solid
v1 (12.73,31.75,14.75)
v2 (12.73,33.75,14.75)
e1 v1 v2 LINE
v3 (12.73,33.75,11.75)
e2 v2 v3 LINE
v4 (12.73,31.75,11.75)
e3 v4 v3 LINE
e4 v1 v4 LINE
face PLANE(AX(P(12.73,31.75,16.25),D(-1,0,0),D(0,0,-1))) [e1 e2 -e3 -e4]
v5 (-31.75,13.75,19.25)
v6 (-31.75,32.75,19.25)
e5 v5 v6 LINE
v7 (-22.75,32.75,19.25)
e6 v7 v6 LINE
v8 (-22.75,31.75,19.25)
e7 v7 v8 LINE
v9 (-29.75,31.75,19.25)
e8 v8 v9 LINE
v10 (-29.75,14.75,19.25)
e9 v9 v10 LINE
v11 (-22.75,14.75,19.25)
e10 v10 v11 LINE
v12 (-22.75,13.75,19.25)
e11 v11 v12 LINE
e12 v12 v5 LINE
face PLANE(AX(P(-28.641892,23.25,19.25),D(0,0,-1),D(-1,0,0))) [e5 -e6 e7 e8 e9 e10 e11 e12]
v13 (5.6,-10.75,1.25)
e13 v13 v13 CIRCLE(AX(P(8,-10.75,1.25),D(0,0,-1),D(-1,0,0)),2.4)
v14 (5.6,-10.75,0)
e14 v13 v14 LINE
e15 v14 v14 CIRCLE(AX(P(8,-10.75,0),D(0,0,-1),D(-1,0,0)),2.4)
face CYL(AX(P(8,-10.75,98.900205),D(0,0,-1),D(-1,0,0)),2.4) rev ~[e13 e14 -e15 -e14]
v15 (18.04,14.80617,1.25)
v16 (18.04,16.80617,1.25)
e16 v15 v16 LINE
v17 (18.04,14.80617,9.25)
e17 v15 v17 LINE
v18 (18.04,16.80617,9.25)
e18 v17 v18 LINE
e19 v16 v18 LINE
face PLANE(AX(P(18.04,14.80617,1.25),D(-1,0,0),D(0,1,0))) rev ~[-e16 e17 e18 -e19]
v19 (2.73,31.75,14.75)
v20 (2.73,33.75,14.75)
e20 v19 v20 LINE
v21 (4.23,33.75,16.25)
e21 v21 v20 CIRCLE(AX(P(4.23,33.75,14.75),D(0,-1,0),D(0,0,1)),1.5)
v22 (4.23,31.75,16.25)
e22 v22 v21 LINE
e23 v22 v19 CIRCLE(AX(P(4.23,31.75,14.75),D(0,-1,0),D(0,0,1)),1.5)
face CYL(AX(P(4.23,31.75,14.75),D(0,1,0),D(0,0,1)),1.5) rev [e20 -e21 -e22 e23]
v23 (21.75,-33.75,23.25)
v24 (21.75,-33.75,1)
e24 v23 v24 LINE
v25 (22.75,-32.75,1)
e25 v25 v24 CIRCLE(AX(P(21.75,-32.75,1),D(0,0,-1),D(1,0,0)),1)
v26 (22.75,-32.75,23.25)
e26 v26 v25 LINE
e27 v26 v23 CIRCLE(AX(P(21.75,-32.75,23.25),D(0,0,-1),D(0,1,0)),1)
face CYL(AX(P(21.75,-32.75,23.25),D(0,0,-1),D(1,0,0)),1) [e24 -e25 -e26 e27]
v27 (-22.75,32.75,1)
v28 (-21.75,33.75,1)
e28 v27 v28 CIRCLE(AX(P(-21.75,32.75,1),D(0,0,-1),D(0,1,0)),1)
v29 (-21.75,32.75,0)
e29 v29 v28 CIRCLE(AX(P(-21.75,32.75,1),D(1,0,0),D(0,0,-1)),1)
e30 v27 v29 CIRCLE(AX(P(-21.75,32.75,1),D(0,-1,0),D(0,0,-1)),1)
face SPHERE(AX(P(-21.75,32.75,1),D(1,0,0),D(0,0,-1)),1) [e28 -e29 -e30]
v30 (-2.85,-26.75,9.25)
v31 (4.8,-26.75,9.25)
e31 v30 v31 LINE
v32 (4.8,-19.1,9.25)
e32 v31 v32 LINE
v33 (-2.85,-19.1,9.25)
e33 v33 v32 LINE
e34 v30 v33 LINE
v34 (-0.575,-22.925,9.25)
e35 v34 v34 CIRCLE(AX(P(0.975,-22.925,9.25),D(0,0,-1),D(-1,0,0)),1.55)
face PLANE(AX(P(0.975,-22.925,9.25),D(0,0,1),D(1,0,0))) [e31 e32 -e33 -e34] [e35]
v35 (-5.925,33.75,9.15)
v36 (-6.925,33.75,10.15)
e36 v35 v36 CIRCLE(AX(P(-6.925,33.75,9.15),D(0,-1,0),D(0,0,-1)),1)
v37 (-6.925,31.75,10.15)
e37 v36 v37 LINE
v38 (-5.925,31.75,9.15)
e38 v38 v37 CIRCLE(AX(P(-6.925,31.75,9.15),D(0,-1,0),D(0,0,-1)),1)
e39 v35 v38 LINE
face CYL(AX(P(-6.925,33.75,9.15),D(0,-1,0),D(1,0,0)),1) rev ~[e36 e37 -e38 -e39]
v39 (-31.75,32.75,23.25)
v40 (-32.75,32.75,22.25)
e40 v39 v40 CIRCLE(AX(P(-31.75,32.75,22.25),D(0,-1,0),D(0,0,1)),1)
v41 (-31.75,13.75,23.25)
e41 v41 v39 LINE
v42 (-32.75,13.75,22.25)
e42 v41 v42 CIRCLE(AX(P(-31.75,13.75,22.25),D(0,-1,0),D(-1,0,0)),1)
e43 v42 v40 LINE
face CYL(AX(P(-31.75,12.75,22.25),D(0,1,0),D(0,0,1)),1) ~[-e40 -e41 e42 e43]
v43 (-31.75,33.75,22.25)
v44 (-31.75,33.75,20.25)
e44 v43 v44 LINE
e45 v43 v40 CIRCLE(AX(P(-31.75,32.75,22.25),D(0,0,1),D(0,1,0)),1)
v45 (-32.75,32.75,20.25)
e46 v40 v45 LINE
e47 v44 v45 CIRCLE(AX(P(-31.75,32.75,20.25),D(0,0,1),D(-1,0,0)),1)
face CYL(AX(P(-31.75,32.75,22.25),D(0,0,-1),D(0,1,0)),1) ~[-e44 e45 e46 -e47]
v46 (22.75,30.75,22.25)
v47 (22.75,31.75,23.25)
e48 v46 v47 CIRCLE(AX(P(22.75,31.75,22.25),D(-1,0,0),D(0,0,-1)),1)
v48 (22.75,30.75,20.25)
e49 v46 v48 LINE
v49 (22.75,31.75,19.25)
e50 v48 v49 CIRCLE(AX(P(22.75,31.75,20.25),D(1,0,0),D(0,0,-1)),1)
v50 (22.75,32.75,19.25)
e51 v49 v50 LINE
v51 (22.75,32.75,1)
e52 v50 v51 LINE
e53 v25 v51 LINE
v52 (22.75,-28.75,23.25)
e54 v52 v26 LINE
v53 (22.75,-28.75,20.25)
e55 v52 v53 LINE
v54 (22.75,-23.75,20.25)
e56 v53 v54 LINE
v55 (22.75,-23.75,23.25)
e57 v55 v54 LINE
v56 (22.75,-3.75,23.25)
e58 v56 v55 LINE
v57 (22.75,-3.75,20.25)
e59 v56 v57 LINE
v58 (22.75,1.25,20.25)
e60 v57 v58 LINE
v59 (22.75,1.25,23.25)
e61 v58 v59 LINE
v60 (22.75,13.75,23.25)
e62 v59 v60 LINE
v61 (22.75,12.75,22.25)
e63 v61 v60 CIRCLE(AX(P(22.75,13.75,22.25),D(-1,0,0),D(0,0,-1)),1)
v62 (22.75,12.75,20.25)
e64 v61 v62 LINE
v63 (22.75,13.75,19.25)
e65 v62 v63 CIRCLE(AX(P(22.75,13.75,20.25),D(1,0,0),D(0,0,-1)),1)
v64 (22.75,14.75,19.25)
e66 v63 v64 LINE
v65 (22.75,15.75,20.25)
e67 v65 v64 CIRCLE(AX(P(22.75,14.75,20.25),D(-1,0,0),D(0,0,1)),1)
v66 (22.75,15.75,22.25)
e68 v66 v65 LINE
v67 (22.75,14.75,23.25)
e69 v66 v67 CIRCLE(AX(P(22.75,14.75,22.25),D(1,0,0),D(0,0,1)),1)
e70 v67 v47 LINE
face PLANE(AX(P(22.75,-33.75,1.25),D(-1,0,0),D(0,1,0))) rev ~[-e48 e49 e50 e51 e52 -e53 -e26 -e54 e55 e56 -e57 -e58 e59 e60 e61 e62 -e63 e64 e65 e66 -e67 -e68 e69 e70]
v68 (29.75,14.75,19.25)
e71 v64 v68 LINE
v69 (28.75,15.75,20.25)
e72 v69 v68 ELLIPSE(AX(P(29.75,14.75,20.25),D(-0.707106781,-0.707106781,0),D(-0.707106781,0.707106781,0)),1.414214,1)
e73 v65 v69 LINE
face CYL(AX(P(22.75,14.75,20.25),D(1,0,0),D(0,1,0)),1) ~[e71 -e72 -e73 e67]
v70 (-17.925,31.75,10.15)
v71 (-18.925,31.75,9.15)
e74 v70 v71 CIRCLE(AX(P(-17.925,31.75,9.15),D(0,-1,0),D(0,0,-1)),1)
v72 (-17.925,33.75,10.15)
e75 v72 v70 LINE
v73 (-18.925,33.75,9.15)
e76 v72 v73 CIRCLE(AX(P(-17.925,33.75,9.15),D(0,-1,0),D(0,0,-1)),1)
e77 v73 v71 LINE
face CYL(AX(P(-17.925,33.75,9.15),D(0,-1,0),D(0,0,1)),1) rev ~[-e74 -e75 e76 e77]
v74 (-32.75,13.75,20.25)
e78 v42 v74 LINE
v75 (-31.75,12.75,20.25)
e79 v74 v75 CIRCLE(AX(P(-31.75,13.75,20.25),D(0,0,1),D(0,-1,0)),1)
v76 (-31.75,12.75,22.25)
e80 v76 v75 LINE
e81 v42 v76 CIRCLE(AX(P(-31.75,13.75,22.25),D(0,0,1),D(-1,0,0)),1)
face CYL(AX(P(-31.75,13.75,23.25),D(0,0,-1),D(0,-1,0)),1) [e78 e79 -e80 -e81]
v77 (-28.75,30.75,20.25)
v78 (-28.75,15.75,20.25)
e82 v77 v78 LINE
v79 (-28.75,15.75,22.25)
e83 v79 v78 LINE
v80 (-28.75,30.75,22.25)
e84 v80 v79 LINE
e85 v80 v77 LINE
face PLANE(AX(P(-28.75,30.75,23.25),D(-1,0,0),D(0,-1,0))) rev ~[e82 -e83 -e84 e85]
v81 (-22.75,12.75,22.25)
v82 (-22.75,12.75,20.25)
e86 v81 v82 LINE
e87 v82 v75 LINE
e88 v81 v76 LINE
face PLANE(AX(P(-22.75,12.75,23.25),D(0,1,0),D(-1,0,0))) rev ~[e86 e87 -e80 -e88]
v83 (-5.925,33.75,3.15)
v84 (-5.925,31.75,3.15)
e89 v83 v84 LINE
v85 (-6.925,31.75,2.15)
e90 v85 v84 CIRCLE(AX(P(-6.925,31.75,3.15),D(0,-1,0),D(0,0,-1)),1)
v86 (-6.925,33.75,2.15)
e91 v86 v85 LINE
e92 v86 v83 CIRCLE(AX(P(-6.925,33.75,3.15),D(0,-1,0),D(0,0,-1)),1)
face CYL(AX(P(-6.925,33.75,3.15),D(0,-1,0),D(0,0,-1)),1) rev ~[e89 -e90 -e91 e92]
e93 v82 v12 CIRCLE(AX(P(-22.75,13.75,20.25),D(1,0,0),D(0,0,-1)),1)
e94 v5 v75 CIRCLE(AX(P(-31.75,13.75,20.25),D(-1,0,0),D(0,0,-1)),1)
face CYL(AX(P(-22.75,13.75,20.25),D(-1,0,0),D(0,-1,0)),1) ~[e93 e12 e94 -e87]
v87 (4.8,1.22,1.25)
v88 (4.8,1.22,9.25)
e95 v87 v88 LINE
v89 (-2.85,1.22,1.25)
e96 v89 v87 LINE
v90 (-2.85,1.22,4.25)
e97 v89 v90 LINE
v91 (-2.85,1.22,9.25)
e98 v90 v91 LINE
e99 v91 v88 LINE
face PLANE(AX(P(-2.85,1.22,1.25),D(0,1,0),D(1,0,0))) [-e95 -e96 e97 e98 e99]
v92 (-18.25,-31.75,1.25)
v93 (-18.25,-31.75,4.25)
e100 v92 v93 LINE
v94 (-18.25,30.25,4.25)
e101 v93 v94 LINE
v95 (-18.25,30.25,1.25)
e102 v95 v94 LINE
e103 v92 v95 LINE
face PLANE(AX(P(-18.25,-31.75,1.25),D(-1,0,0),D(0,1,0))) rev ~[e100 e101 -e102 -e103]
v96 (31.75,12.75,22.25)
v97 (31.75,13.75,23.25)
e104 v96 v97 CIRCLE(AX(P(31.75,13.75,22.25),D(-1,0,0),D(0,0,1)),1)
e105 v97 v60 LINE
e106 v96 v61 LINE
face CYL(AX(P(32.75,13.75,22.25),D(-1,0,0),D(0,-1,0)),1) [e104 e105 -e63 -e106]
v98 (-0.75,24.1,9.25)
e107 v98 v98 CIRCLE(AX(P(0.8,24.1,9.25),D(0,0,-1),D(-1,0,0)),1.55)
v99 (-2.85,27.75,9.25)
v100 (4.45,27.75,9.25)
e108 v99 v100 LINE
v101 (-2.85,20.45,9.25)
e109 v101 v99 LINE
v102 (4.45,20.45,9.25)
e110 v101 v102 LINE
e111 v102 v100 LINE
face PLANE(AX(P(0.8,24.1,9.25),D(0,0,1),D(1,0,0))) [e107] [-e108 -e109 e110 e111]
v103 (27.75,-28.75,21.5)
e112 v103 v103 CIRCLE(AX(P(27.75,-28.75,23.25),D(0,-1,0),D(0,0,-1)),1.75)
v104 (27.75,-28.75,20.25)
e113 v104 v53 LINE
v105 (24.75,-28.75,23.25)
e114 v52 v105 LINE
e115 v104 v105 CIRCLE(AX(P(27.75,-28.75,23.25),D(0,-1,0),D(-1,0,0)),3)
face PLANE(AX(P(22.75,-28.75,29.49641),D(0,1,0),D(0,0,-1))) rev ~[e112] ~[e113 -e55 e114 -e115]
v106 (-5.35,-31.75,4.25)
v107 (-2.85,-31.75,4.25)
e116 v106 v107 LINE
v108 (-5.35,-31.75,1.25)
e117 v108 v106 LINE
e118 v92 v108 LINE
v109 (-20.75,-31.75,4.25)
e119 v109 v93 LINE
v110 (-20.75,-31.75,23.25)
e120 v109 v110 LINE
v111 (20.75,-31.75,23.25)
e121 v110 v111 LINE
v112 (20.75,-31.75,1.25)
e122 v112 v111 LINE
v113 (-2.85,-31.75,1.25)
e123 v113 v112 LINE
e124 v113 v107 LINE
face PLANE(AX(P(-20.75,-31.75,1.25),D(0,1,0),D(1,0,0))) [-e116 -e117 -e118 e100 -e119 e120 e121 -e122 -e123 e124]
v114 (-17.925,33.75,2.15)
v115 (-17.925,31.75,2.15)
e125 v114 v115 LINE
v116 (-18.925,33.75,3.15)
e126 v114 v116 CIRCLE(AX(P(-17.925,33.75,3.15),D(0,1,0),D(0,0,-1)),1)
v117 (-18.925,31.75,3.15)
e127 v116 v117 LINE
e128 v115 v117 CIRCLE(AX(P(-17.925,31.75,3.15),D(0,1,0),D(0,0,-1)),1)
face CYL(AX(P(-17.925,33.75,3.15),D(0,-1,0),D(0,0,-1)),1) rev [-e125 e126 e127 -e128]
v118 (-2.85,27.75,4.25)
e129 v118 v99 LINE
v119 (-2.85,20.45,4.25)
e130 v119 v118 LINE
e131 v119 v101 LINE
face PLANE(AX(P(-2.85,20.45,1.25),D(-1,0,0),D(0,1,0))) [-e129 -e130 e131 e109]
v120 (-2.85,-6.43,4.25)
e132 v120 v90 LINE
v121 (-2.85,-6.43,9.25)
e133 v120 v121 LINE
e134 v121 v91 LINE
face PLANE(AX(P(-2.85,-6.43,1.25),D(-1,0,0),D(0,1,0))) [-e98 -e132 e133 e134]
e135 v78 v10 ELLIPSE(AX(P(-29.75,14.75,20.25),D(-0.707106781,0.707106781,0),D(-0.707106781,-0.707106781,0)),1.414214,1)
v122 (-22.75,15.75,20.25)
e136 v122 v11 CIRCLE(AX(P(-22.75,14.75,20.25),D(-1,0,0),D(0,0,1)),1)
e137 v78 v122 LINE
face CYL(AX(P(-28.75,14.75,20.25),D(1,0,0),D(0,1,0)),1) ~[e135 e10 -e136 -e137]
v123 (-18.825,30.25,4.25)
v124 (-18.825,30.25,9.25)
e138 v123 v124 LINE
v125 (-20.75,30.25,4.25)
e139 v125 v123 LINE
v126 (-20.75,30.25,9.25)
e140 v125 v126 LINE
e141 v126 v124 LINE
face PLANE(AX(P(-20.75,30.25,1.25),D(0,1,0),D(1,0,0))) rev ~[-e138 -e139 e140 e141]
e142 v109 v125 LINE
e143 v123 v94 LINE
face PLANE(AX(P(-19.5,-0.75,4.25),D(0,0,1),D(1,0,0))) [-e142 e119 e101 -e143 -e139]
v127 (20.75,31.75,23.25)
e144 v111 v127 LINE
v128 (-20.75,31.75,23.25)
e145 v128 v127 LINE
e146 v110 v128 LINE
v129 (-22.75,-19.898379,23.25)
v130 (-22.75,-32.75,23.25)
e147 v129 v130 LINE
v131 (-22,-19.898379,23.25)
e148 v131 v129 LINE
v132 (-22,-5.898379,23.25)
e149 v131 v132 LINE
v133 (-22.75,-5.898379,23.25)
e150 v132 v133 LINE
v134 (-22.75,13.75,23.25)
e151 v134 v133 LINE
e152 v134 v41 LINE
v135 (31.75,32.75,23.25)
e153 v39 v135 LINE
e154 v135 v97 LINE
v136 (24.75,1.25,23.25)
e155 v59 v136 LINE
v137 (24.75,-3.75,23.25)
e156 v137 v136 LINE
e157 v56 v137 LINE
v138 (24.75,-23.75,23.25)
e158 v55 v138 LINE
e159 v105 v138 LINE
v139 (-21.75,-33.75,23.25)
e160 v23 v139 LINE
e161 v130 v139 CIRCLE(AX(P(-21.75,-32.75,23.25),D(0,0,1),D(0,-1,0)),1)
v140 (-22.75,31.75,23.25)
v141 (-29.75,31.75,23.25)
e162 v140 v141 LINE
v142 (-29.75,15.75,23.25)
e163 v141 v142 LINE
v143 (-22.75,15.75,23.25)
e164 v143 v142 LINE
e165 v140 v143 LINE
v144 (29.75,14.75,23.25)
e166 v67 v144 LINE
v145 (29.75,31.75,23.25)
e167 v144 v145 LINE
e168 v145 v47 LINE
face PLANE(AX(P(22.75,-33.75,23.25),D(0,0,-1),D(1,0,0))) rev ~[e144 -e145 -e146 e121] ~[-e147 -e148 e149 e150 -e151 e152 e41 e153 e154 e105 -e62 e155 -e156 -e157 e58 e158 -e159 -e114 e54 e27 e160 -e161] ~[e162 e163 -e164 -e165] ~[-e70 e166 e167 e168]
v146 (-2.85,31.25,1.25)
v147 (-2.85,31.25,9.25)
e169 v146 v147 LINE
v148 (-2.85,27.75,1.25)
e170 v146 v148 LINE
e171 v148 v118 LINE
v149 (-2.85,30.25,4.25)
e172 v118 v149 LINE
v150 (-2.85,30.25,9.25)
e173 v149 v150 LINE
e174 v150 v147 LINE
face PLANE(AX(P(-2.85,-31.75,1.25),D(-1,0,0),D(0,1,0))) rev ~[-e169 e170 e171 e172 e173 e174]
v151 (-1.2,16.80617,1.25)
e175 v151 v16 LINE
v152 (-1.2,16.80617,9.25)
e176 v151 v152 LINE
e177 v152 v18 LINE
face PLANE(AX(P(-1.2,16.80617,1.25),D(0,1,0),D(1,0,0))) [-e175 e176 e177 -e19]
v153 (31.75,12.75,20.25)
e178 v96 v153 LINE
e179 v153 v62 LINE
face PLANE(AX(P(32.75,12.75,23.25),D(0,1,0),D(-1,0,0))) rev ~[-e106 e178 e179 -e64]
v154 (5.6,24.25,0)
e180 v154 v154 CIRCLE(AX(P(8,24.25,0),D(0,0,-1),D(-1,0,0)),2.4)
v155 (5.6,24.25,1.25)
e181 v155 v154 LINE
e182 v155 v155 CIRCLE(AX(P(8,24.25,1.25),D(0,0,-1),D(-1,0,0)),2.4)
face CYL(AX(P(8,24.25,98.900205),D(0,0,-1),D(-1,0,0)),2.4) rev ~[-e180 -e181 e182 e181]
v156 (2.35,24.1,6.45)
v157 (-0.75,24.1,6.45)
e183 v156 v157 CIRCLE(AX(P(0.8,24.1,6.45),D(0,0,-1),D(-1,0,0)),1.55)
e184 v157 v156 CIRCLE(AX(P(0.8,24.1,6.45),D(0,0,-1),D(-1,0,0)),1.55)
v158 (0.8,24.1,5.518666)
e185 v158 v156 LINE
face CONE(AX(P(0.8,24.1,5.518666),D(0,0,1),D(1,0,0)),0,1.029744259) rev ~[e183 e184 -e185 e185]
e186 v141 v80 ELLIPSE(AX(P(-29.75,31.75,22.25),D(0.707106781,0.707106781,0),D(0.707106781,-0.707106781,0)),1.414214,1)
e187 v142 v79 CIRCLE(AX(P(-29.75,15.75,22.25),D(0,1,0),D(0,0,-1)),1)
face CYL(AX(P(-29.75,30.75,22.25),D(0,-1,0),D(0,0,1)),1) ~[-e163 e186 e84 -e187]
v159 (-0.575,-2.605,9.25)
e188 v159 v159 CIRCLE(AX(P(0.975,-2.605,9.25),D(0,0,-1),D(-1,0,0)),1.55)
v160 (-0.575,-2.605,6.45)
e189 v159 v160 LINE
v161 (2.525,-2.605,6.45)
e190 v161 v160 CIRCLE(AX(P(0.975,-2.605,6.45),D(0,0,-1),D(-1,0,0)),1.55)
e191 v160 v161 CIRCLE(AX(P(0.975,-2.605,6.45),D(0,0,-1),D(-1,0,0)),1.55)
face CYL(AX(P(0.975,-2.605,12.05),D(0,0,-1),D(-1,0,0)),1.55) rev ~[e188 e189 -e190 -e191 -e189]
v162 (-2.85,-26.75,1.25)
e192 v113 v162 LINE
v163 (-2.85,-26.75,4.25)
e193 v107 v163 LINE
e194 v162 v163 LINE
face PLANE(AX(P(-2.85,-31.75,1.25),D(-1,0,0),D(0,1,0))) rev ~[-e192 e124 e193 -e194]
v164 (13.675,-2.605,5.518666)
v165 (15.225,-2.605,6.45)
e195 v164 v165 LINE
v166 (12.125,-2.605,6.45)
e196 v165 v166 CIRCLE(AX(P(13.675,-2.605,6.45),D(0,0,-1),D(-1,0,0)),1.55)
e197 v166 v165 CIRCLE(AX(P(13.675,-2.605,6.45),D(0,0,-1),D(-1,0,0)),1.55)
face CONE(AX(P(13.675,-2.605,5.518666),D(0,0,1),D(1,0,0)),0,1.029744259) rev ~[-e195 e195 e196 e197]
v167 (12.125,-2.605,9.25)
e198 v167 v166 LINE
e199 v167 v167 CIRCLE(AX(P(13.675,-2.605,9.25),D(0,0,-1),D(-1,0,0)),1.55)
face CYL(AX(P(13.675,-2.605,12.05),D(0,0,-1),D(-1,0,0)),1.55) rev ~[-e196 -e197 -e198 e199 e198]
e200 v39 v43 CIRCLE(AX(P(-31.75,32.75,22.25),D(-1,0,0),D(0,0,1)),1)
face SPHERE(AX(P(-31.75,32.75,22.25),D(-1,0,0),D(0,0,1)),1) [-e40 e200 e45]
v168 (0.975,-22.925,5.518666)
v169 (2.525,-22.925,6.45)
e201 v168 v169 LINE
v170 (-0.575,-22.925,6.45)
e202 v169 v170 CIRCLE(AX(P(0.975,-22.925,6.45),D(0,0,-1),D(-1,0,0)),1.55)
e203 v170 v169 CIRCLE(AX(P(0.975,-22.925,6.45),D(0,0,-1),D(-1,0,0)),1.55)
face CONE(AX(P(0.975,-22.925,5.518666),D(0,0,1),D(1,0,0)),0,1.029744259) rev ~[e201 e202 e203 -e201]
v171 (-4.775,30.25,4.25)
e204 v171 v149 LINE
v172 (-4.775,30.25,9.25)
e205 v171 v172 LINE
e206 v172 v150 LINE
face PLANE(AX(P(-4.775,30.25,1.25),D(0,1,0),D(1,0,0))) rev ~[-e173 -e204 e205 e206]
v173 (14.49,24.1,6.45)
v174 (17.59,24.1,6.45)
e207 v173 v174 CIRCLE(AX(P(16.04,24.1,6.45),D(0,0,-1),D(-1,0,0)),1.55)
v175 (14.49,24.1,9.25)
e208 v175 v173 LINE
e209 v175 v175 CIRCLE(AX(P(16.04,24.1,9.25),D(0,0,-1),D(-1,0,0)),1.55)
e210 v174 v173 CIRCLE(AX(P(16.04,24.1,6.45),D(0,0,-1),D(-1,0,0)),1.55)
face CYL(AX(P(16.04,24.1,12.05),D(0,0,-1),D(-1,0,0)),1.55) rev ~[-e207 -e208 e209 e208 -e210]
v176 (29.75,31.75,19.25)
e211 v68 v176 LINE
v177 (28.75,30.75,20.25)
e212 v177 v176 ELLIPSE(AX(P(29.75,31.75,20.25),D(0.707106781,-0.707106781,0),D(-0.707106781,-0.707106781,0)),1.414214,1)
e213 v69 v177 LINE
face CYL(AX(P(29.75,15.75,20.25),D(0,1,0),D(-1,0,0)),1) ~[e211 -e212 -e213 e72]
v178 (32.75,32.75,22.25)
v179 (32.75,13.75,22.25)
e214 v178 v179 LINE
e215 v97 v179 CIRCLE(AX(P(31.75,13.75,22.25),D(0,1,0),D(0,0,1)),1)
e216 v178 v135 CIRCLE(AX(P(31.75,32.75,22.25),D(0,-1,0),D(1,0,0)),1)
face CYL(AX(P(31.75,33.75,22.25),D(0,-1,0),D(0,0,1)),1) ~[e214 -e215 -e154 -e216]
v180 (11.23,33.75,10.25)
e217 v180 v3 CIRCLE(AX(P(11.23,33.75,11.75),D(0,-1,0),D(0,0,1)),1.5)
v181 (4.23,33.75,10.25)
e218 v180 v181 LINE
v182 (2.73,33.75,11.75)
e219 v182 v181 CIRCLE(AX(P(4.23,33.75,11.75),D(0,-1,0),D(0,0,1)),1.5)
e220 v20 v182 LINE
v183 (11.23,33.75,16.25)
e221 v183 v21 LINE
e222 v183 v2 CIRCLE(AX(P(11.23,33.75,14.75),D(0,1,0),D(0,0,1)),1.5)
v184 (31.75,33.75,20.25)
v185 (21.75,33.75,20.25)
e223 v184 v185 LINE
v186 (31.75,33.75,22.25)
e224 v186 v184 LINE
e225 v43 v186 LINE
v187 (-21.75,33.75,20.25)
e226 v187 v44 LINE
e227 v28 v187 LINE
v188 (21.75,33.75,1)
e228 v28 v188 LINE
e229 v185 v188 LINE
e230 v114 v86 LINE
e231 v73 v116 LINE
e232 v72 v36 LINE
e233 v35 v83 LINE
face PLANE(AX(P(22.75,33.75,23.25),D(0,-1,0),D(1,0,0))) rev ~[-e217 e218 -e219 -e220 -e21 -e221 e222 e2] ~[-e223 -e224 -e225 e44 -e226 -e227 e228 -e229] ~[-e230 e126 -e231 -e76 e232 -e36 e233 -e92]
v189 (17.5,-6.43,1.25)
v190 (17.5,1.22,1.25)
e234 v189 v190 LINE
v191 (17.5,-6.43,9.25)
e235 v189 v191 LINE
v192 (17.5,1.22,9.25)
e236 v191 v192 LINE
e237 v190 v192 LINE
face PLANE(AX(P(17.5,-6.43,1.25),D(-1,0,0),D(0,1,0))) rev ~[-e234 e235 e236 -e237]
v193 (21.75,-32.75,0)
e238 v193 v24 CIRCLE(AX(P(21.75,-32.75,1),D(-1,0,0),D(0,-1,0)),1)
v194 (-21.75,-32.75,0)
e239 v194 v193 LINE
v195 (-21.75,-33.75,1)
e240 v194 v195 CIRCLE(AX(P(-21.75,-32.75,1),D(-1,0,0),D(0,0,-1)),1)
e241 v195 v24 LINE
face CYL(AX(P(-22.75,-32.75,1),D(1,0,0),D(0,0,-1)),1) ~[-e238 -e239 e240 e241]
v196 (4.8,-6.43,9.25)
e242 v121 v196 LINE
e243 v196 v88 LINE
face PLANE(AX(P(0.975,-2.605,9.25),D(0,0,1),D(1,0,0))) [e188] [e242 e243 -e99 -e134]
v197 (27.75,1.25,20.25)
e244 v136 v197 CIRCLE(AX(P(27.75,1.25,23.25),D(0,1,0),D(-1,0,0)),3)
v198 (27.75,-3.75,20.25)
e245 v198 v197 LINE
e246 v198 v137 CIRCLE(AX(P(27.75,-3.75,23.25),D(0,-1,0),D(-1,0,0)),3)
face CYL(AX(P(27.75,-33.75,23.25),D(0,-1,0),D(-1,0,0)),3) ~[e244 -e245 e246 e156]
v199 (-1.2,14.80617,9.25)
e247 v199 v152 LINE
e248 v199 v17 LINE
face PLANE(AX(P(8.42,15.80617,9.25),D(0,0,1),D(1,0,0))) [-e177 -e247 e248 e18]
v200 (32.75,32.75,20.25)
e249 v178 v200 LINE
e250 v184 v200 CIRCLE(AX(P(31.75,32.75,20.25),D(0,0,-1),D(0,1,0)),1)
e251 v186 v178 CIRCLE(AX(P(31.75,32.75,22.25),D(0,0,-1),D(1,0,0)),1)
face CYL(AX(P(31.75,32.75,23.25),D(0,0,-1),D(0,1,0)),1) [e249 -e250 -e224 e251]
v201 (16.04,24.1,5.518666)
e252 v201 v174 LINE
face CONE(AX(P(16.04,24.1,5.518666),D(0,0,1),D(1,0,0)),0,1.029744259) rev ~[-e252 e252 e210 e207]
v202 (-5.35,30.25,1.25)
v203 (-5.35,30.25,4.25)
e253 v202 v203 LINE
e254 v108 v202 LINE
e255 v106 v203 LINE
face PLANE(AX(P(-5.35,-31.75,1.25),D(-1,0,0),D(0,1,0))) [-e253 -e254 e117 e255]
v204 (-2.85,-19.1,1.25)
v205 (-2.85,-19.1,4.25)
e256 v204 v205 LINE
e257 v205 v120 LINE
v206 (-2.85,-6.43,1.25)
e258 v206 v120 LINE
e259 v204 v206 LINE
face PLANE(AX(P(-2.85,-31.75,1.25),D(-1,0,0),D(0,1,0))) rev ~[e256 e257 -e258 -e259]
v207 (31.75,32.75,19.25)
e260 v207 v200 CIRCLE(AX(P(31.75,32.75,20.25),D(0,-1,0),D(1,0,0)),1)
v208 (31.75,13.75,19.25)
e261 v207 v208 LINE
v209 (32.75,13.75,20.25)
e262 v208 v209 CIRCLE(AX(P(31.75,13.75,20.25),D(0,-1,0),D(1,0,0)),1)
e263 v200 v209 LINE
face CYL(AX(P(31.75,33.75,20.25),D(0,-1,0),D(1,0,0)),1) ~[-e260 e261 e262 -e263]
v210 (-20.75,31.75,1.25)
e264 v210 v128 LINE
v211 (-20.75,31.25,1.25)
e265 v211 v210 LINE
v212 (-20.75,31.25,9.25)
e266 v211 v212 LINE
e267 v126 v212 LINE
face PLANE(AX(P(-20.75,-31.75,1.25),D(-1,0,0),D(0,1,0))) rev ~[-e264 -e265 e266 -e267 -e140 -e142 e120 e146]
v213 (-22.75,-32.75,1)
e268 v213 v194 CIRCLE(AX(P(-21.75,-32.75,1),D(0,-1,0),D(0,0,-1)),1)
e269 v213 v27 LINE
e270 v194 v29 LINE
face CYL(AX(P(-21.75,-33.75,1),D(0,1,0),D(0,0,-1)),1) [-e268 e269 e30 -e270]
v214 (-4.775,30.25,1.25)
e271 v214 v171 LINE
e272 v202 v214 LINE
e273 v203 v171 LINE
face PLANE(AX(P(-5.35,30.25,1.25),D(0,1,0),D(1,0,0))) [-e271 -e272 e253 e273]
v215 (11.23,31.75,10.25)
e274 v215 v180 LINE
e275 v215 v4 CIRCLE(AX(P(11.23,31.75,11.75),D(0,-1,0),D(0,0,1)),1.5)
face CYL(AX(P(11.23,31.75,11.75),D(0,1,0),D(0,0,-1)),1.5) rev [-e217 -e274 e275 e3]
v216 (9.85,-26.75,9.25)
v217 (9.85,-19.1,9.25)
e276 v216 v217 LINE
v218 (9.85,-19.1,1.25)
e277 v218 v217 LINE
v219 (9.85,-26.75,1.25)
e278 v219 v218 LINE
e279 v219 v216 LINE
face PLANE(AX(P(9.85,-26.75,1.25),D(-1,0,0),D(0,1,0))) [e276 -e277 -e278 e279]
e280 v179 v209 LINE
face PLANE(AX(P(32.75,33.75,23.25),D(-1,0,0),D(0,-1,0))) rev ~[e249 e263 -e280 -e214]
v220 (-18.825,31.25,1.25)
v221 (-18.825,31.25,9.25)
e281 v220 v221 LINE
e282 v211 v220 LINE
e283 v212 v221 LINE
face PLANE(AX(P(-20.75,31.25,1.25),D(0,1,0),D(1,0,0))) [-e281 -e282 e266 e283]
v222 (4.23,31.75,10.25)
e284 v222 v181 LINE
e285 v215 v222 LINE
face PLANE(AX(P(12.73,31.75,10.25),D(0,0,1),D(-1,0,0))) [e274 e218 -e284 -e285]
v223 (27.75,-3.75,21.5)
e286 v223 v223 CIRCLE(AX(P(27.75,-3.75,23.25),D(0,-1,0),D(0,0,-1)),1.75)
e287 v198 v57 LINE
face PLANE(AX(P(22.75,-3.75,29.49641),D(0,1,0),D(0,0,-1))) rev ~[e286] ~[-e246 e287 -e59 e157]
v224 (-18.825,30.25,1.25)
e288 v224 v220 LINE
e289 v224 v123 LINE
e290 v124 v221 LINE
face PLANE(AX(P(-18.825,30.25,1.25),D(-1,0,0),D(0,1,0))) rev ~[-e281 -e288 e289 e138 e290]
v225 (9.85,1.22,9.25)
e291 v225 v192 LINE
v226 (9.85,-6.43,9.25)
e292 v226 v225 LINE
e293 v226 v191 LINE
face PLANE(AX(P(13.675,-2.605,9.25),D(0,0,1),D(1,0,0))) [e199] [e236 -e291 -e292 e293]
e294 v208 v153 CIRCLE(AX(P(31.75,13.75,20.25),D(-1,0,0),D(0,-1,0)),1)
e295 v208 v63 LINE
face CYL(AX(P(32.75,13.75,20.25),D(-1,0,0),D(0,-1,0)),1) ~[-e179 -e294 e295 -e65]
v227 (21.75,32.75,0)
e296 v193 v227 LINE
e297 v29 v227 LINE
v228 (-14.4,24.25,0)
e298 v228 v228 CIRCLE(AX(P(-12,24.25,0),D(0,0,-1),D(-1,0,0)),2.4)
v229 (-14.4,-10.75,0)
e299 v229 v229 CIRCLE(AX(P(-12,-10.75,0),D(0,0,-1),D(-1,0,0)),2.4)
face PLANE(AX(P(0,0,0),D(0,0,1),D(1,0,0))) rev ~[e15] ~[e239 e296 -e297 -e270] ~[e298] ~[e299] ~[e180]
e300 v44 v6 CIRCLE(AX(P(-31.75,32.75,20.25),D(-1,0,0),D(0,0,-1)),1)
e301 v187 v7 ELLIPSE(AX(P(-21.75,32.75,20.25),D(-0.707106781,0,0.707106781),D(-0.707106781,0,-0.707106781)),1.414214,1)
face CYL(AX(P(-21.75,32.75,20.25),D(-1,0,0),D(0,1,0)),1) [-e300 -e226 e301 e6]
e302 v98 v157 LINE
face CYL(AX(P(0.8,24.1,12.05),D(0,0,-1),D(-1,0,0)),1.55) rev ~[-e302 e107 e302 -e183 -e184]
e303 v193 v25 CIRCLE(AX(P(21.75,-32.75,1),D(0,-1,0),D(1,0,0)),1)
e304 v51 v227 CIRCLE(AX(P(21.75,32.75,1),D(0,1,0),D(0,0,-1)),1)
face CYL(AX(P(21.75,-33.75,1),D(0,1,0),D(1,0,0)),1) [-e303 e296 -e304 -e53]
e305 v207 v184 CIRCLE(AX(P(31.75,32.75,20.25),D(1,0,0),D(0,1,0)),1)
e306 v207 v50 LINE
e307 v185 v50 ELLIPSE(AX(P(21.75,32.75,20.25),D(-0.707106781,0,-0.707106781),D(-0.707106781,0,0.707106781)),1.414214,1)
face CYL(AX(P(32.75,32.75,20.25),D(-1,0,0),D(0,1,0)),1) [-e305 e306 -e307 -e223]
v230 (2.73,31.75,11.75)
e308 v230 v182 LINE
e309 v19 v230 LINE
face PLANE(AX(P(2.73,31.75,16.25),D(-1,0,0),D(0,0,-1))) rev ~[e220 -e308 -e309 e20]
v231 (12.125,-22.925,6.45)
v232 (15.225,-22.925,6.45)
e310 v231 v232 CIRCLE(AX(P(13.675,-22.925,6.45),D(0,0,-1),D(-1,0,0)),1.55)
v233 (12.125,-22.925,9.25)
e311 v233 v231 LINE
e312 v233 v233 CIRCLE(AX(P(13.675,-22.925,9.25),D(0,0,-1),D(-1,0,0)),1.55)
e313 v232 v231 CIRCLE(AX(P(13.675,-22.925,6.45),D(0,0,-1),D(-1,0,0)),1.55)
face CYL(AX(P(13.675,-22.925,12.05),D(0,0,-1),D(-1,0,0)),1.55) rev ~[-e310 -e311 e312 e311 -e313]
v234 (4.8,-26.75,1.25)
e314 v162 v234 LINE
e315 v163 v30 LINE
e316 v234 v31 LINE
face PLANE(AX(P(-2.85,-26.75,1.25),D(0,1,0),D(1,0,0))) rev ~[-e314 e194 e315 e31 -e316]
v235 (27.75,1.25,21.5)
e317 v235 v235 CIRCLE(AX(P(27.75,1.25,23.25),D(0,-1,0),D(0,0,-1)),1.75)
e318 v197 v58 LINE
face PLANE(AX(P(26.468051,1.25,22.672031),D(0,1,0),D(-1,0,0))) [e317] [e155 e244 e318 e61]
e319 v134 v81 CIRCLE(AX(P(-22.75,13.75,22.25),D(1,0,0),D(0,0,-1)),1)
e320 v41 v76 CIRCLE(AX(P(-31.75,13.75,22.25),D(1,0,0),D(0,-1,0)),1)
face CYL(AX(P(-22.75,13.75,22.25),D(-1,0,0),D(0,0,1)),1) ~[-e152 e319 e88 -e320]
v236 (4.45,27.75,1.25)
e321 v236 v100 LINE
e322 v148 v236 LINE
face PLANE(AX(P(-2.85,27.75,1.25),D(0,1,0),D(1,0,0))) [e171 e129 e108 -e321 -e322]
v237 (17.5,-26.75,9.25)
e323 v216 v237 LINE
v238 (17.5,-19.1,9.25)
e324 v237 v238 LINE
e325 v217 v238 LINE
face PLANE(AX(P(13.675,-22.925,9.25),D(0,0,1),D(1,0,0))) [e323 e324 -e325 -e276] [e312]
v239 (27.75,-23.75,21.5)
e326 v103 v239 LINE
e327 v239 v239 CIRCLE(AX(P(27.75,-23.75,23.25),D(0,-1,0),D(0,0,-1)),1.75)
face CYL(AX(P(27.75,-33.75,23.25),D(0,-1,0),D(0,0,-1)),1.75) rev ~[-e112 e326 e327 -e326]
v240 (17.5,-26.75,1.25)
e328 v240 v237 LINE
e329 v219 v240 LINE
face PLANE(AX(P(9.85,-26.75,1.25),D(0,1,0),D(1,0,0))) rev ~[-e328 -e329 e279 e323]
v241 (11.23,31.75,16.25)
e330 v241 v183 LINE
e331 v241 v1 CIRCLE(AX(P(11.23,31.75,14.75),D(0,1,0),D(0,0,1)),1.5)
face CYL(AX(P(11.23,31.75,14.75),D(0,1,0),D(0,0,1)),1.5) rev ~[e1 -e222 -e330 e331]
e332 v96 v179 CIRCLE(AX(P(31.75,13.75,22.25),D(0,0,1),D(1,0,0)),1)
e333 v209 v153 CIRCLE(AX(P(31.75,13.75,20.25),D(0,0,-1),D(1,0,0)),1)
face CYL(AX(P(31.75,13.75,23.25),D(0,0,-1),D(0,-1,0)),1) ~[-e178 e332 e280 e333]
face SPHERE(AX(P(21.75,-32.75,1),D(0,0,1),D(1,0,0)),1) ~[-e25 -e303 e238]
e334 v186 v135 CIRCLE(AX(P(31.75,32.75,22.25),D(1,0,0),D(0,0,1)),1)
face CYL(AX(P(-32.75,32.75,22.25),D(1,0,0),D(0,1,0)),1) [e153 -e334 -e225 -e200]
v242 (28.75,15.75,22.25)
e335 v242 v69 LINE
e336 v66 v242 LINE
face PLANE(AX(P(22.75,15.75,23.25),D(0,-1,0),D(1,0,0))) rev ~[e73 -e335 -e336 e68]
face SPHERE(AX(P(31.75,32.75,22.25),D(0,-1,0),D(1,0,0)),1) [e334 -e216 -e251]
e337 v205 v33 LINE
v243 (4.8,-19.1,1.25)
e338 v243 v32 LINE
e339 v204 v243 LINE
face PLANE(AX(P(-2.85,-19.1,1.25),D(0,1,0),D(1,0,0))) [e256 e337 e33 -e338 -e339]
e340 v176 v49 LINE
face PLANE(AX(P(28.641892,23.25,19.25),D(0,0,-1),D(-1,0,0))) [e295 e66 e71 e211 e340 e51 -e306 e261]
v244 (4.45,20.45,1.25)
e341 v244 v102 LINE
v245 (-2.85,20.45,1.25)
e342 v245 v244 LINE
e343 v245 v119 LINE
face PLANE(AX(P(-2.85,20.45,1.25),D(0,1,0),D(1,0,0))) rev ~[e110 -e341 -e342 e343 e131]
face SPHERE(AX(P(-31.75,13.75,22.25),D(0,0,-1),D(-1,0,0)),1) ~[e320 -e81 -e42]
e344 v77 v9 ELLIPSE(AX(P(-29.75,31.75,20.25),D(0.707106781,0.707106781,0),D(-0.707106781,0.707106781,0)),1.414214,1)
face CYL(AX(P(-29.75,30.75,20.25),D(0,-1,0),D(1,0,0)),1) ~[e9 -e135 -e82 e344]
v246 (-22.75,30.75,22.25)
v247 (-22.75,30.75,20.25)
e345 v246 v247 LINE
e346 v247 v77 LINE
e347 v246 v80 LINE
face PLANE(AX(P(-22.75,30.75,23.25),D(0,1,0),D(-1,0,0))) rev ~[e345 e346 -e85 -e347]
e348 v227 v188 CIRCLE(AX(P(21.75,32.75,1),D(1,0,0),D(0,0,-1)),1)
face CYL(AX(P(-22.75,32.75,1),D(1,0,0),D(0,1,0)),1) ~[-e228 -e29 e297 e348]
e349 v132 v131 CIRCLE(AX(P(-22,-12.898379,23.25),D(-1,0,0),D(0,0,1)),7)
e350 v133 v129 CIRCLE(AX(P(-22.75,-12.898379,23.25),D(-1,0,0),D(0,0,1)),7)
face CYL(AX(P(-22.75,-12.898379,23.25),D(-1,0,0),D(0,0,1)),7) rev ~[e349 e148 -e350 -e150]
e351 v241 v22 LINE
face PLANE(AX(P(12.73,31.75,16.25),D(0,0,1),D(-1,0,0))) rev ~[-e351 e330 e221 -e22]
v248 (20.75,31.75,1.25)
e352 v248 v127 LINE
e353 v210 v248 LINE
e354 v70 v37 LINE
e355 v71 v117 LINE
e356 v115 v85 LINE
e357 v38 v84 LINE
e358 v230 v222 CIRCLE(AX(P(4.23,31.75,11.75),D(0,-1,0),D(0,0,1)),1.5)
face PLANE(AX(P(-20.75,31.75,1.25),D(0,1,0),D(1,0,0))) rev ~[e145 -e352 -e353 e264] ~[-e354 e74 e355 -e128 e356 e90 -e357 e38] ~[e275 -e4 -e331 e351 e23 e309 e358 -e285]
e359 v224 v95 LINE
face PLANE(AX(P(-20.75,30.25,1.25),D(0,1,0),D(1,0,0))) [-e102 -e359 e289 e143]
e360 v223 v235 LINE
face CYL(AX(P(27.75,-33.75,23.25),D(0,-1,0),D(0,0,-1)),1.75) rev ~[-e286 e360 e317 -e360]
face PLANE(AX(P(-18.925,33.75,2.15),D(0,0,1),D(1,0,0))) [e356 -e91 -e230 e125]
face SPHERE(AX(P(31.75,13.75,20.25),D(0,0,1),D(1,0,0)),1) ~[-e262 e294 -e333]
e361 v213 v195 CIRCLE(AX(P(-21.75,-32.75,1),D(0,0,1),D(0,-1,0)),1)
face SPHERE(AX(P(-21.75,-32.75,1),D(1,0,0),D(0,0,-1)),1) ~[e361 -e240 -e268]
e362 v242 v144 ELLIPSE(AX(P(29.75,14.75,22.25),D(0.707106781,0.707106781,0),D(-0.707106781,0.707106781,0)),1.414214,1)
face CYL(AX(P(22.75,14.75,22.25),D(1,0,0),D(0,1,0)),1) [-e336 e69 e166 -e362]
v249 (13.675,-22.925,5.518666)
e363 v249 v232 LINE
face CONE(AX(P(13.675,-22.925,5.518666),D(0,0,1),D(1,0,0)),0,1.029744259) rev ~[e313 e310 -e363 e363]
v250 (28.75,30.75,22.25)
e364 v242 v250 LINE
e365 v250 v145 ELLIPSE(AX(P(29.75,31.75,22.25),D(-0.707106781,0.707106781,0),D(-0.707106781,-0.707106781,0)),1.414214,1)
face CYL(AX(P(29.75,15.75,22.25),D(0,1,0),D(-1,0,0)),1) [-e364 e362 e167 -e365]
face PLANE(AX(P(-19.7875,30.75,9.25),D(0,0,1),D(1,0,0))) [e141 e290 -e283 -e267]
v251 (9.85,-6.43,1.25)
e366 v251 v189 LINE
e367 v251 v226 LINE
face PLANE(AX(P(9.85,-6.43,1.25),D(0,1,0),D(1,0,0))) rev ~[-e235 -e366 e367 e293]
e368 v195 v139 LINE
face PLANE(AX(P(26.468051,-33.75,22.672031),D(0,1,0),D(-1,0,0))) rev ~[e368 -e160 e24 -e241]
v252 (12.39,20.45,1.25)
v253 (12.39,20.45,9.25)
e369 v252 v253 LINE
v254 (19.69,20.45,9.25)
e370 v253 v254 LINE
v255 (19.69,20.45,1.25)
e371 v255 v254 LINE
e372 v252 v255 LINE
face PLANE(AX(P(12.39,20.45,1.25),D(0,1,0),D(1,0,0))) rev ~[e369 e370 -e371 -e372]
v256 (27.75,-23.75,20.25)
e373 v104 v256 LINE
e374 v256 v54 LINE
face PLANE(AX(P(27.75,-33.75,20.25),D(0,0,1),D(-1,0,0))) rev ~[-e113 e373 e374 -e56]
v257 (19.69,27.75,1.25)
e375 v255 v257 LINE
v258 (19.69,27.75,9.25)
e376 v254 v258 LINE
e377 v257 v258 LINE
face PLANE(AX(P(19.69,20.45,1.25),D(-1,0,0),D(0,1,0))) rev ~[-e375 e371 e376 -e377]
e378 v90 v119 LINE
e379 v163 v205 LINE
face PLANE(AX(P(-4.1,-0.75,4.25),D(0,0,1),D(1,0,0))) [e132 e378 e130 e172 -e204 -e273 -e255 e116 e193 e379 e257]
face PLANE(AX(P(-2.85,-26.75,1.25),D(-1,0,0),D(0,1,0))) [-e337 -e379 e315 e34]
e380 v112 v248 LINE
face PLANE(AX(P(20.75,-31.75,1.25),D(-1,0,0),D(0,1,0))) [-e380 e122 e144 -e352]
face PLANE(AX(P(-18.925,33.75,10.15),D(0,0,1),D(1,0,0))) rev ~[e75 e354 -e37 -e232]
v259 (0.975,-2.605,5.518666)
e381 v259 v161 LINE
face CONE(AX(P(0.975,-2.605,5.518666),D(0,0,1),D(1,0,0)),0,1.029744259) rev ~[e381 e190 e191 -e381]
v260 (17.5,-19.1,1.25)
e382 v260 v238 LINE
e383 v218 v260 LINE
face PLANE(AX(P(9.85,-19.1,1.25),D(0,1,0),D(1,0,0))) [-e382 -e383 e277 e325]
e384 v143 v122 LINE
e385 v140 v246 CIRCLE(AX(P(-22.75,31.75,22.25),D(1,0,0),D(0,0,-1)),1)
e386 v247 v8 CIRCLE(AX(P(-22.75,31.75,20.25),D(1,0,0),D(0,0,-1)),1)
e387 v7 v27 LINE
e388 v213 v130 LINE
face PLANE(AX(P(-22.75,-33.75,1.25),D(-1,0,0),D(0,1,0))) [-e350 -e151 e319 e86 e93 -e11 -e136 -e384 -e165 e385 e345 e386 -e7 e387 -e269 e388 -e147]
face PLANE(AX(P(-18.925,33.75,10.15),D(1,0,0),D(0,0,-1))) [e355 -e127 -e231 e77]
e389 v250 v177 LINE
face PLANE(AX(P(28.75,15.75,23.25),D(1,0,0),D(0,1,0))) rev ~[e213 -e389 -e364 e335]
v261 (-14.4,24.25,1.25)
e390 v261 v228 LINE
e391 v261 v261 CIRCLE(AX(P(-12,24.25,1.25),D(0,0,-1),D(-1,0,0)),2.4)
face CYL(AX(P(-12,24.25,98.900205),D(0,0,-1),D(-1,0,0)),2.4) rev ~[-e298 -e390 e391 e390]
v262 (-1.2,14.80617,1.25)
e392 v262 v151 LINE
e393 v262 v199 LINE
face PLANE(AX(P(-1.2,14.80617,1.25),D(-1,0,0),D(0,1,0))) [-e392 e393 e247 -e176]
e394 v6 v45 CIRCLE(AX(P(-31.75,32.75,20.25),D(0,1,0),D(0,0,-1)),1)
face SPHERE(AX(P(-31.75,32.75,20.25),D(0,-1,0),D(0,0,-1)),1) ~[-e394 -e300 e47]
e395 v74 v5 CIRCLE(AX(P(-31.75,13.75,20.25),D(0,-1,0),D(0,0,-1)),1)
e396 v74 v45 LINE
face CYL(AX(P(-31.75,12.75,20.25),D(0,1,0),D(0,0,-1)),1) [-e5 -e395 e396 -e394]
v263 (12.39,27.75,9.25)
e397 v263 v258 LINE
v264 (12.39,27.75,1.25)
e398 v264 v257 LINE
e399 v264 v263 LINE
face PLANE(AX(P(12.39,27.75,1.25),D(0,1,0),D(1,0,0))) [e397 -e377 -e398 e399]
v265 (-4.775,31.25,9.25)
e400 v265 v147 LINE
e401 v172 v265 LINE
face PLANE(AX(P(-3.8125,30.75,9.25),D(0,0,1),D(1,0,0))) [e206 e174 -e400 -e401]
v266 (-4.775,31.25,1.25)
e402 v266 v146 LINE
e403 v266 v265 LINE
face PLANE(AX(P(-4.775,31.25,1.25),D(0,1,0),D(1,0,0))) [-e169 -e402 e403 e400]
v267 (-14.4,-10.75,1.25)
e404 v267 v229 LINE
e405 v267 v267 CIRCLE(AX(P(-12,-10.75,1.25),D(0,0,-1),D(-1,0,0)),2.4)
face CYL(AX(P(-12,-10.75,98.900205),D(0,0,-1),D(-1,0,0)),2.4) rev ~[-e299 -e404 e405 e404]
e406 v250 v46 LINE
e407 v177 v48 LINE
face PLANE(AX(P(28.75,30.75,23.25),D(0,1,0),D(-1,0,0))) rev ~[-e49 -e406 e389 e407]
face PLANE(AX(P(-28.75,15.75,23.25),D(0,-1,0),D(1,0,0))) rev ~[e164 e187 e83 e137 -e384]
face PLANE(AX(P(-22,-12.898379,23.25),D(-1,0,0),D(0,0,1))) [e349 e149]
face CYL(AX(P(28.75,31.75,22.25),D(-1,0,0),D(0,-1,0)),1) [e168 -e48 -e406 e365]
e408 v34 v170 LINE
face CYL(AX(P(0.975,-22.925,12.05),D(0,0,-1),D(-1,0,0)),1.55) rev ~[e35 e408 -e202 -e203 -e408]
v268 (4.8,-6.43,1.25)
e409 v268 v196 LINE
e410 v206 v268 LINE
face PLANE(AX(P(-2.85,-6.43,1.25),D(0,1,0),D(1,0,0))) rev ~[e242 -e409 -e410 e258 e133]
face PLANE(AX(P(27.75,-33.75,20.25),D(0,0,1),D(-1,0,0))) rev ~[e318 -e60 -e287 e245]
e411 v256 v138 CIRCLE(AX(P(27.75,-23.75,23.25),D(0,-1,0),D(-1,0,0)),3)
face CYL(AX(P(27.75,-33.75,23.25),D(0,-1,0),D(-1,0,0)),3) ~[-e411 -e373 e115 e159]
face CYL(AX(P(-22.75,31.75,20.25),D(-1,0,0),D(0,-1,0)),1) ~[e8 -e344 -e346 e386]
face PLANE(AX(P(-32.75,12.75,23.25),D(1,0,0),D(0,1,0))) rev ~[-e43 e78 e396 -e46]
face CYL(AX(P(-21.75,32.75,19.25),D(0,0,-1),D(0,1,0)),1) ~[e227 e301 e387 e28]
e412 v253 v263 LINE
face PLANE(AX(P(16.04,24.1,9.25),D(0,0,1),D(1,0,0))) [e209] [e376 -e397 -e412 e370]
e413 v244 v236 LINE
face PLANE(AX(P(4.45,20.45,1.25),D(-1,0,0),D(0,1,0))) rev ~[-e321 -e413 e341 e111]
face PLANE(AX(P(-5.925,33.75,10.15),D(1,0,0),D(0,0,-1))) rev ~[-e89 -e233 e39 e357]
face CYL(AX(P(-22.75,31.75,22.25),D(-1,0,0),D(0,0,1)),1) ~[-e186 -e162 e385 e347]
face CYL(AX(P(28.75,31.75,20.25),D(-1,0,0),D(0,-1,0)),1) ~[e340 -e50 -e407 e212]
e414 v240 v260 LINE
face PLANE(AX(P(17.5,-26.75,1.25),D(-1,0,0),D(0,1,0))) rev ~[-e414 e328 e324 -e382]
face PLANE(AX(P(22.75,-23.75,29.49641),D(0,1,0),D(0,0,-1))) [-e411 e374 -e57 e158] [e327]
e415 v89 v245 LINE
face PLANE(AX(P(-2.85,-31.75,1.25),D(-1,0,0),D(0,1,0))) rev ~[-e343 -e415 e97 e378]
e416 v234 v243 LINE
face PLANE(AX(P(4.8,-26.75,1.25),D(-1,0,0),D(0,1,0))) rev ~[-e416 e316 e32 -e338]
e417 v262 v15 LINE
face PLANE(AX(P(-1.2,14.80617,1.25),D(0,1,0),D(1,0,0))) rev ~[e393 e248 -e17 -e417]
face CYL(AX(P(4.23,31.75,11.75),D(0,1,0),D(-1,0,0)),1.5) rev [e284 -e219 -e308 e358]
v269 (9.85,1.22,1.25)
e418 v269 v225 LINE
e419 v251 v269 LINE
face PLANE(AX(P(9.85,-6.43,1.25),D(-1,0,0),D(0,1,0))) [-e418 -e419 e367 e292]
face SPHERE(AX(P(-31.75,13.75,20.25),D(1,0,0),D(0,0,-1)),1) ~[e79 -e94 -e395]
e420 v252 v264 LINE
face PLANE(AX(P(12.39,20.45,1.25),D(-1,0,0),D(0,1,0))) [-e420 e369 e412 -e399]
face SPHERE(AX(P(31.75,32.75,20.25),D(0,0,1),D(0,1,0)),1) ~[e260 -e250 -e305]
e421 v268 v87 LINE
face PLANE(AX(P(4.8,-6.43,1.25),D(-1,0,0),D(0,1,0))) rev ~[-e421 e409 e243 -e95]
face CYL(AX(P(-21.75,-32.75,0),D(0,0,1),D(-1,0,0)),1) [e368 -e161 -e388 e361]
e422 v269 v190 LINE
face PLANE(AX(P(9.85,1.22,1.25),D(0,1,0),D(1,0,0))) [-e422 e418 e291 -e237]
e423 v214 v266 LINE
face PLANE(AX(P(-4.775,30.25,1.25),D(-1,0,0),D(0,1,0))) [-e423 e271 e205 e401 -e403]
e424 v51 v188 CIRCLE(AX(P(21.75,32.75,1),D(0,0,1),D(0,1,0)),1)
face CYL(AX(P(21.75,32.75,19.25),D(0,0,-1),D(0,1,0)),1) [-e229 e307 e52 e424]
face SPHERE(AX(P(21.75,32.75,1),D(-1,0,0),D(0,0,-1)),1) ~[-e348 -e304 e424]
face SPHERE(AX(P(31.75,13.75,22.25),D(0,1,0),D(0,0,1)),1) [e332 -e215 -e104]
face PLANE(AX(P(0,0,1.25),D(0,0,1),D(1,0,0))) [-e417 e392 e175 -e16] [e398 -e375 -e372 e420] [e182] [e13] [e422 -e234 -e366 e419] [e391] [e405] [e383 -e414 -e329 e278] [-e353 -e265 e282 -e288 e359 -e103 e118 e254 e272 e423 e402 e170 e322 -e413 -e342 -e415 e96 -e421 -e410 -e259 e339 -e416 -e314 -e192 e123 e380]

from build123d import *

# Parameters (mm, degrees)
SKETCH1_W                 = 45.5
SKETCH1_H                 = 67.5
BOSS_EXTRUDE1_DEPTH       = 1.25
SKETCH21_W                = 1.925
SKETCH21_H                = 1
BOSS_EXTRUDE10_DEPTH      = 8
SKETCH7_W                 = 45.5
SKETCH7_H                 = 67.5
SKETCH7_W_2               = 41.5
SKETCH7_H_2               = 63.5
BOSS_EXTRUDE4_DEPTH       = 22
SKETCH18_W                = 13
SKETCH18_H                = 8
CUT_EXTRUDE10_DEPTH       = 2
BOSS_EXTRUDE20_DEPTH      = 4
SKETCH49_R                = 1.75
BOSS_EXTRUDE21_DEPTH      = 35
SKETCH50_W                = 13.462095761
SKETCH50_H                = 5
SKETCH50_W_2              = 20.764616991
SKETCH50_H_2              = 20
CUT_EXTRUDE12_DEPTH       = 12
FILLET7_R                 = 1
M4_CLEARANCE_HOLE1_D      = 4.8
SKETCH42_W                = 7.3
SKETCH42_H                = 7.3
SKETCH42_W_2              = 19.24
SKETCH42_H_2              = 2
SKETCH42_W_3              = 7.65
SKETCH42_H_3              = 7.65
BOSS_EXTRUDE19_DEPTH      = 8
F_3_0MM_DOWEL_HOLE1_D     = 3.1
F_3_0MM_DOWEL_HOLE1_DEPTH = 2.8
F_3_0MM_DOWEL_HOLE1_TIP   = 0.931333959
SKETCH52_W                = 10
SKETCH52_H                = 6
CUT_EXTRUDE13_DEPTH       = 12
FILLET11_R                = 1.5
FILLET13_R                = 1
FILLET15_R                = 1
FILLET14_R                = 1
SKETCH53_R                = 7
CUT_EXTRUDE14_DEPTH       = 0.75
SKETCH54_W                = 2.5
SKETCH54_H                = 62
BOSS_EXTRUDE22_DEPTH      = 3


with BuildPart() as part:
    # Sketch1 → Boss-Extrude1 (new body)
    with BuildSketch(Plane.XY):
        Rectangle(SKETCH1_W, SKETCH1_H)
    extrude(amount=BOSS_EXTRUDE1_DEPTH)

    # Sketch21 → Boss-Extrude10 (add)
    with BuildSketch(Plane.XY.offset(1.25)):
        with Locations((-19.7875, 30.75)):
            Rectangle(SKETCH21_W, SKETCH21_H)
        with Locations((-3.8125, 30.75)):
            Rectangle(SKETCH21_W, SKETCH21_H)
    extrude(amount=BOSS_EXTRUDE10_DEPTH)

    # Sketch7 → Boss-Extrude4 (add)
    with BuildSketch(Plane.XY.offset(1.25)):
        Rectangle(SKETCH7_W, SKETCH7_H)
        Rectangle(SKETCH7_W_2, SKETCH7_H_2, mode=Mode.SUBTRACT)
    extrude(amount=BOSS_EXTRUDE4_DEPTH)

    # Sketch18 → Cut-Extrude10 (cut)
    with BuildSketch(Plane(origin=(0, 33.75, 0), x_dir=(1, 0, 0), z_dir=(0, 1, 0))):
        with Locations((-12.425, -6.15)):
            Rectangle(SKETCH18_W, SKETCH18_H)
    extrude(amount=-CUT_EXTRUDE10_DEPTH, mode=Mode.SUBTRACT)

    # Sketch48 → Boss-Extrude20 (add)
    with BuildSketch(Plane.XY.offset(23.25)):
        Polygon((22.75, 33.75), (32.75, 33.75), (32.75, 12.75), (22.75, 12.75), (22.75, 15.75), (28.75, 15.75), (28.75, 30.75), (22.75, 30.75), align=None)
        Polygon((-22.75, 30.75), (-28.75, 30.75), (-28.75, 15.75), (-22.75, 15.75), (-22.75, 12.75), (-32.75, 12.75), (-32.75, 33.75), (-22.75, 33.75), align=None)
    extrude(amount=-BOSS_EXTRUDE20_DEPTH)

    # Sketch49 → Boss-Extrude21 (add)
    with BuildSketch(Plane.XZ.offset(33.75)):
        with BuildLine():
            Line((27.75, 20.25), (22.75, 20.25))
            Line((22.75, 20.25), (22.75, 23.25))
            Line((22.75, 23.25), (24.75, 23.25))
            ThreePointArc((24.75, 23.25), (29.871320344, 25.371320344), (27.75, 20.25))
        make_face()
        with Locations(Location((27.75, 23.25, 0), (0, 0, 270))):
            Circle(SKETCH49_R, mode=Mode.SUBTRACT)
    extrude(amount=-BOSS_EXTRUDE21_DEPTH)

    # Sketch50 → Cut-Extrude12 (cut)
    with BuildSketch(Plane(origin=(22.75, 0, 0), x_dir=(0, 0, -1), z_dir=(1, 0, 0))):
        with Locations((-22.765361812, -31.25)):
            Rectangle(SKETCH50_W, SKETCH50_H)
        with Locations((-19.114101197, -13.75)):
            Rectangle(SKETCH50_W_2, SKETCH50_H_2)
    extrude(amount=CUT_EXTRUDE12_DEPTH, mode=Mode.SUBTRACT)

    # Fillet7
    fillet7_edges = [part.edges().sort_by_distance(p)[0] for p in [
        (-18.925, 32.75, 2.15),
        (-18.925, 32.75, 10.15),
        (-5.925, 32.75, 10.15),
        (-5.925, 32.75, 2.15),
    ]]
    fillet(fillet7_edges, radius=FILLET7_R)

    # M4 Clearance Hole1 (through all)
    with Locations(Plane.XY.offset(1.25)):
        with Locations((-12, 24.25), (8, 24.25), (8, -10.75), (-12, -10.75)):
            Hole(M4_CLEARANCE_HOLE1_D / 2)

    # Sketch42 → Boss-Extrude19 (add)
    with BuildSketch(Plane.XY.offset(1.25)):
        with Locations((0.8, 24.1)):
            Rectangle(SKETCH42_W, SKETCH42_H)
        with Locations((16.04, 24.1)):
            Rectangle(SKETCH42_W, SKETCH42_H)
        with Locations((8.42, 15.806169598)):
            Rectangle(SKETCH42_W_2, SKETCH42_H_2)
        with Locations((0.975, -22.925)):
            Rectangle(SKETCH42_W_3, SKETCH42_H_3)
        with Locations((13.675, -22.925)):
            Rectangle(SKETCH42_W_3, SKETCH42_H_3)
        with Locations((13.675, -2.605)):
            Rectangle(SKETCH42_W_3, SKETCH42_H_3)
        with Locations((0.975, -2.605)):
            Rectangle(SKETCH42_W_3, SKETCH42_H_3)
    extrude(amount=BOSS_EXTRUDE19_DEPTH)

    # Ø3.0mm Dowel Hole1
    with Locations(Plane.XY.offset(9.25)):
        with Locations((0.8, 24.1), (16.04, 24.1), (13.675, -2.605), (0.975, -2.605), (0.975, -22.925), (13.675, -22.925)):
            Hole(F_3_0MM_DOWEL_HOLE1_D / 2, depth=F_3_0MM_DOWEL_HOLE1_DEPTH)
            with Locations((0, 0, -(F_3_0MM_DOWEL_HOLE1_DEPTH + F_3_0MM_DOWEL_HOLE1_TIP / 2))):  # 118° drill point
                Cone(0, F_3_0MM_DOWEL_HOLE1_D / 2, F_3_0MM_DOWEL_HOLE1_TIP, mode=Mode.SUBTRACT)

    # Sketch52 → Cut-Extrude13 (cut)
    with BuildSketch(Plane(origin=(0, 31.75, 0), x_dir=(-1, 0, 0), z_dir=(0, -1, 0))):
        with Locations((-7.73, -13.25)):
            Rectangle(SKETCH52_W, SKETCH52_H)
    extrude(amount=-CUT_EXTRUDE13_DEPTH, mode=Mode.SUBTRACT)

    # Fillet11
    fillet11_edges = [part.edges().sort_by_distance(p)[0] for p in [
        (2.73, 32.75, 10.25),
        (2.73, 32.75, 16.25),
        (12.73, 32.75, 16.25),
        (12.73, 32.75, 10.25),
    ]]
    fillet(fillet11_edges, radius=FILLET11_R)

    # Fillet13
    fillet13_edges = [part.edges().sort_by_distance(p)[0] for p in [
        (22.75, -33.75, 11.625),
        (0, 33.75, 0),
        (22.75, 0, 0),
        (0, -33.75, 0),
        (-22.75, 0, 0),
        (-22.75, -33.75, 11.625),
        (-22.75, 33.75, 9.625),
        (22.75, 33.75, 9.625),
    ]]
    fillet(fillet13_edges, radius=FILLET13_R)

    # Fillet15
    fillet15_edges = [part.edges().sort_by_distance(p)[0] for p in [
        (25.75, 30.75, 23.25),
        (28.75, 23.25, 23.25),
        (32.75, 23.25, 23.25),
        (25.75, 15.75, 23.25),
        (27.75, 12.75, 23.25),
        (32.75, 12.75, 21.25),
        (32.75, 33.75, 21.25),
        (27.25, 33.75, 19.25),
        (25.75, 30.75, 19.25),
        (28.75, 23.25, 19.25),
        (32.75, 23.25, 19.25),
        (27.75, 12.75, 19.25),
        (25.75, 15.75, 19.25),
        (0, 33.75, 23.25),
    ]]
    fillet(fillet15_edges, radius=FILLET15_R)

    # Fillet14
    fillet14_edges = [part.edges().sort_by_distance(p)[0] for p in [
        (-25.75, 30.75, 19.25),
        (-28.75, 23.25, 19.25),
        (-25.75, 15.75, 19.25),
        (-27.75, 12.75, 19.25),
        (-32.75, 23.25, 19.25),
        (-32.75, 12.75, 21.25),
        (-27.25, 33.75, 19.25),
        (-32.75, 33.75, 20.75),
        (-27.75, 12.75, 23.25),
        (-28.75, 23.25, 23.25),
        (-25.75, 30.75, 23.25),
        (-32.75, 22.75, 23.25),
        (-32.75, 33.457106781, 22.957106781),
    ]]
    fillet(fillet14_edges, radius=FILLET14_R)

    # Sketch53 → Cut-Extrude14 (cut)
    with BuildSketch(Plane.ZY.offset(22.75)):
        with Locations((23.25, -12.898378645)):
            Circle(SKETCH53_R)
    extrude(amount=-CUT_EXTRUDE14_DEPTH, mode=Mode.SUBTRACT)

    # Sketch54 → Boss-Extrude22 (add)
    with BuildSketch(Plane.XY.offset(1.25)):
        with Locations((-19.5, -0.75)):
            Rectangle(SKETCH54_W, SKETCH54_H)
        with Locations((-4.1, -0.75)):
            Rectangle(SKETCH54_W, SKETCH54_H)
    extrude(amount=BOSS_EXTRUDE22_DEPTH)


solid = part.part
